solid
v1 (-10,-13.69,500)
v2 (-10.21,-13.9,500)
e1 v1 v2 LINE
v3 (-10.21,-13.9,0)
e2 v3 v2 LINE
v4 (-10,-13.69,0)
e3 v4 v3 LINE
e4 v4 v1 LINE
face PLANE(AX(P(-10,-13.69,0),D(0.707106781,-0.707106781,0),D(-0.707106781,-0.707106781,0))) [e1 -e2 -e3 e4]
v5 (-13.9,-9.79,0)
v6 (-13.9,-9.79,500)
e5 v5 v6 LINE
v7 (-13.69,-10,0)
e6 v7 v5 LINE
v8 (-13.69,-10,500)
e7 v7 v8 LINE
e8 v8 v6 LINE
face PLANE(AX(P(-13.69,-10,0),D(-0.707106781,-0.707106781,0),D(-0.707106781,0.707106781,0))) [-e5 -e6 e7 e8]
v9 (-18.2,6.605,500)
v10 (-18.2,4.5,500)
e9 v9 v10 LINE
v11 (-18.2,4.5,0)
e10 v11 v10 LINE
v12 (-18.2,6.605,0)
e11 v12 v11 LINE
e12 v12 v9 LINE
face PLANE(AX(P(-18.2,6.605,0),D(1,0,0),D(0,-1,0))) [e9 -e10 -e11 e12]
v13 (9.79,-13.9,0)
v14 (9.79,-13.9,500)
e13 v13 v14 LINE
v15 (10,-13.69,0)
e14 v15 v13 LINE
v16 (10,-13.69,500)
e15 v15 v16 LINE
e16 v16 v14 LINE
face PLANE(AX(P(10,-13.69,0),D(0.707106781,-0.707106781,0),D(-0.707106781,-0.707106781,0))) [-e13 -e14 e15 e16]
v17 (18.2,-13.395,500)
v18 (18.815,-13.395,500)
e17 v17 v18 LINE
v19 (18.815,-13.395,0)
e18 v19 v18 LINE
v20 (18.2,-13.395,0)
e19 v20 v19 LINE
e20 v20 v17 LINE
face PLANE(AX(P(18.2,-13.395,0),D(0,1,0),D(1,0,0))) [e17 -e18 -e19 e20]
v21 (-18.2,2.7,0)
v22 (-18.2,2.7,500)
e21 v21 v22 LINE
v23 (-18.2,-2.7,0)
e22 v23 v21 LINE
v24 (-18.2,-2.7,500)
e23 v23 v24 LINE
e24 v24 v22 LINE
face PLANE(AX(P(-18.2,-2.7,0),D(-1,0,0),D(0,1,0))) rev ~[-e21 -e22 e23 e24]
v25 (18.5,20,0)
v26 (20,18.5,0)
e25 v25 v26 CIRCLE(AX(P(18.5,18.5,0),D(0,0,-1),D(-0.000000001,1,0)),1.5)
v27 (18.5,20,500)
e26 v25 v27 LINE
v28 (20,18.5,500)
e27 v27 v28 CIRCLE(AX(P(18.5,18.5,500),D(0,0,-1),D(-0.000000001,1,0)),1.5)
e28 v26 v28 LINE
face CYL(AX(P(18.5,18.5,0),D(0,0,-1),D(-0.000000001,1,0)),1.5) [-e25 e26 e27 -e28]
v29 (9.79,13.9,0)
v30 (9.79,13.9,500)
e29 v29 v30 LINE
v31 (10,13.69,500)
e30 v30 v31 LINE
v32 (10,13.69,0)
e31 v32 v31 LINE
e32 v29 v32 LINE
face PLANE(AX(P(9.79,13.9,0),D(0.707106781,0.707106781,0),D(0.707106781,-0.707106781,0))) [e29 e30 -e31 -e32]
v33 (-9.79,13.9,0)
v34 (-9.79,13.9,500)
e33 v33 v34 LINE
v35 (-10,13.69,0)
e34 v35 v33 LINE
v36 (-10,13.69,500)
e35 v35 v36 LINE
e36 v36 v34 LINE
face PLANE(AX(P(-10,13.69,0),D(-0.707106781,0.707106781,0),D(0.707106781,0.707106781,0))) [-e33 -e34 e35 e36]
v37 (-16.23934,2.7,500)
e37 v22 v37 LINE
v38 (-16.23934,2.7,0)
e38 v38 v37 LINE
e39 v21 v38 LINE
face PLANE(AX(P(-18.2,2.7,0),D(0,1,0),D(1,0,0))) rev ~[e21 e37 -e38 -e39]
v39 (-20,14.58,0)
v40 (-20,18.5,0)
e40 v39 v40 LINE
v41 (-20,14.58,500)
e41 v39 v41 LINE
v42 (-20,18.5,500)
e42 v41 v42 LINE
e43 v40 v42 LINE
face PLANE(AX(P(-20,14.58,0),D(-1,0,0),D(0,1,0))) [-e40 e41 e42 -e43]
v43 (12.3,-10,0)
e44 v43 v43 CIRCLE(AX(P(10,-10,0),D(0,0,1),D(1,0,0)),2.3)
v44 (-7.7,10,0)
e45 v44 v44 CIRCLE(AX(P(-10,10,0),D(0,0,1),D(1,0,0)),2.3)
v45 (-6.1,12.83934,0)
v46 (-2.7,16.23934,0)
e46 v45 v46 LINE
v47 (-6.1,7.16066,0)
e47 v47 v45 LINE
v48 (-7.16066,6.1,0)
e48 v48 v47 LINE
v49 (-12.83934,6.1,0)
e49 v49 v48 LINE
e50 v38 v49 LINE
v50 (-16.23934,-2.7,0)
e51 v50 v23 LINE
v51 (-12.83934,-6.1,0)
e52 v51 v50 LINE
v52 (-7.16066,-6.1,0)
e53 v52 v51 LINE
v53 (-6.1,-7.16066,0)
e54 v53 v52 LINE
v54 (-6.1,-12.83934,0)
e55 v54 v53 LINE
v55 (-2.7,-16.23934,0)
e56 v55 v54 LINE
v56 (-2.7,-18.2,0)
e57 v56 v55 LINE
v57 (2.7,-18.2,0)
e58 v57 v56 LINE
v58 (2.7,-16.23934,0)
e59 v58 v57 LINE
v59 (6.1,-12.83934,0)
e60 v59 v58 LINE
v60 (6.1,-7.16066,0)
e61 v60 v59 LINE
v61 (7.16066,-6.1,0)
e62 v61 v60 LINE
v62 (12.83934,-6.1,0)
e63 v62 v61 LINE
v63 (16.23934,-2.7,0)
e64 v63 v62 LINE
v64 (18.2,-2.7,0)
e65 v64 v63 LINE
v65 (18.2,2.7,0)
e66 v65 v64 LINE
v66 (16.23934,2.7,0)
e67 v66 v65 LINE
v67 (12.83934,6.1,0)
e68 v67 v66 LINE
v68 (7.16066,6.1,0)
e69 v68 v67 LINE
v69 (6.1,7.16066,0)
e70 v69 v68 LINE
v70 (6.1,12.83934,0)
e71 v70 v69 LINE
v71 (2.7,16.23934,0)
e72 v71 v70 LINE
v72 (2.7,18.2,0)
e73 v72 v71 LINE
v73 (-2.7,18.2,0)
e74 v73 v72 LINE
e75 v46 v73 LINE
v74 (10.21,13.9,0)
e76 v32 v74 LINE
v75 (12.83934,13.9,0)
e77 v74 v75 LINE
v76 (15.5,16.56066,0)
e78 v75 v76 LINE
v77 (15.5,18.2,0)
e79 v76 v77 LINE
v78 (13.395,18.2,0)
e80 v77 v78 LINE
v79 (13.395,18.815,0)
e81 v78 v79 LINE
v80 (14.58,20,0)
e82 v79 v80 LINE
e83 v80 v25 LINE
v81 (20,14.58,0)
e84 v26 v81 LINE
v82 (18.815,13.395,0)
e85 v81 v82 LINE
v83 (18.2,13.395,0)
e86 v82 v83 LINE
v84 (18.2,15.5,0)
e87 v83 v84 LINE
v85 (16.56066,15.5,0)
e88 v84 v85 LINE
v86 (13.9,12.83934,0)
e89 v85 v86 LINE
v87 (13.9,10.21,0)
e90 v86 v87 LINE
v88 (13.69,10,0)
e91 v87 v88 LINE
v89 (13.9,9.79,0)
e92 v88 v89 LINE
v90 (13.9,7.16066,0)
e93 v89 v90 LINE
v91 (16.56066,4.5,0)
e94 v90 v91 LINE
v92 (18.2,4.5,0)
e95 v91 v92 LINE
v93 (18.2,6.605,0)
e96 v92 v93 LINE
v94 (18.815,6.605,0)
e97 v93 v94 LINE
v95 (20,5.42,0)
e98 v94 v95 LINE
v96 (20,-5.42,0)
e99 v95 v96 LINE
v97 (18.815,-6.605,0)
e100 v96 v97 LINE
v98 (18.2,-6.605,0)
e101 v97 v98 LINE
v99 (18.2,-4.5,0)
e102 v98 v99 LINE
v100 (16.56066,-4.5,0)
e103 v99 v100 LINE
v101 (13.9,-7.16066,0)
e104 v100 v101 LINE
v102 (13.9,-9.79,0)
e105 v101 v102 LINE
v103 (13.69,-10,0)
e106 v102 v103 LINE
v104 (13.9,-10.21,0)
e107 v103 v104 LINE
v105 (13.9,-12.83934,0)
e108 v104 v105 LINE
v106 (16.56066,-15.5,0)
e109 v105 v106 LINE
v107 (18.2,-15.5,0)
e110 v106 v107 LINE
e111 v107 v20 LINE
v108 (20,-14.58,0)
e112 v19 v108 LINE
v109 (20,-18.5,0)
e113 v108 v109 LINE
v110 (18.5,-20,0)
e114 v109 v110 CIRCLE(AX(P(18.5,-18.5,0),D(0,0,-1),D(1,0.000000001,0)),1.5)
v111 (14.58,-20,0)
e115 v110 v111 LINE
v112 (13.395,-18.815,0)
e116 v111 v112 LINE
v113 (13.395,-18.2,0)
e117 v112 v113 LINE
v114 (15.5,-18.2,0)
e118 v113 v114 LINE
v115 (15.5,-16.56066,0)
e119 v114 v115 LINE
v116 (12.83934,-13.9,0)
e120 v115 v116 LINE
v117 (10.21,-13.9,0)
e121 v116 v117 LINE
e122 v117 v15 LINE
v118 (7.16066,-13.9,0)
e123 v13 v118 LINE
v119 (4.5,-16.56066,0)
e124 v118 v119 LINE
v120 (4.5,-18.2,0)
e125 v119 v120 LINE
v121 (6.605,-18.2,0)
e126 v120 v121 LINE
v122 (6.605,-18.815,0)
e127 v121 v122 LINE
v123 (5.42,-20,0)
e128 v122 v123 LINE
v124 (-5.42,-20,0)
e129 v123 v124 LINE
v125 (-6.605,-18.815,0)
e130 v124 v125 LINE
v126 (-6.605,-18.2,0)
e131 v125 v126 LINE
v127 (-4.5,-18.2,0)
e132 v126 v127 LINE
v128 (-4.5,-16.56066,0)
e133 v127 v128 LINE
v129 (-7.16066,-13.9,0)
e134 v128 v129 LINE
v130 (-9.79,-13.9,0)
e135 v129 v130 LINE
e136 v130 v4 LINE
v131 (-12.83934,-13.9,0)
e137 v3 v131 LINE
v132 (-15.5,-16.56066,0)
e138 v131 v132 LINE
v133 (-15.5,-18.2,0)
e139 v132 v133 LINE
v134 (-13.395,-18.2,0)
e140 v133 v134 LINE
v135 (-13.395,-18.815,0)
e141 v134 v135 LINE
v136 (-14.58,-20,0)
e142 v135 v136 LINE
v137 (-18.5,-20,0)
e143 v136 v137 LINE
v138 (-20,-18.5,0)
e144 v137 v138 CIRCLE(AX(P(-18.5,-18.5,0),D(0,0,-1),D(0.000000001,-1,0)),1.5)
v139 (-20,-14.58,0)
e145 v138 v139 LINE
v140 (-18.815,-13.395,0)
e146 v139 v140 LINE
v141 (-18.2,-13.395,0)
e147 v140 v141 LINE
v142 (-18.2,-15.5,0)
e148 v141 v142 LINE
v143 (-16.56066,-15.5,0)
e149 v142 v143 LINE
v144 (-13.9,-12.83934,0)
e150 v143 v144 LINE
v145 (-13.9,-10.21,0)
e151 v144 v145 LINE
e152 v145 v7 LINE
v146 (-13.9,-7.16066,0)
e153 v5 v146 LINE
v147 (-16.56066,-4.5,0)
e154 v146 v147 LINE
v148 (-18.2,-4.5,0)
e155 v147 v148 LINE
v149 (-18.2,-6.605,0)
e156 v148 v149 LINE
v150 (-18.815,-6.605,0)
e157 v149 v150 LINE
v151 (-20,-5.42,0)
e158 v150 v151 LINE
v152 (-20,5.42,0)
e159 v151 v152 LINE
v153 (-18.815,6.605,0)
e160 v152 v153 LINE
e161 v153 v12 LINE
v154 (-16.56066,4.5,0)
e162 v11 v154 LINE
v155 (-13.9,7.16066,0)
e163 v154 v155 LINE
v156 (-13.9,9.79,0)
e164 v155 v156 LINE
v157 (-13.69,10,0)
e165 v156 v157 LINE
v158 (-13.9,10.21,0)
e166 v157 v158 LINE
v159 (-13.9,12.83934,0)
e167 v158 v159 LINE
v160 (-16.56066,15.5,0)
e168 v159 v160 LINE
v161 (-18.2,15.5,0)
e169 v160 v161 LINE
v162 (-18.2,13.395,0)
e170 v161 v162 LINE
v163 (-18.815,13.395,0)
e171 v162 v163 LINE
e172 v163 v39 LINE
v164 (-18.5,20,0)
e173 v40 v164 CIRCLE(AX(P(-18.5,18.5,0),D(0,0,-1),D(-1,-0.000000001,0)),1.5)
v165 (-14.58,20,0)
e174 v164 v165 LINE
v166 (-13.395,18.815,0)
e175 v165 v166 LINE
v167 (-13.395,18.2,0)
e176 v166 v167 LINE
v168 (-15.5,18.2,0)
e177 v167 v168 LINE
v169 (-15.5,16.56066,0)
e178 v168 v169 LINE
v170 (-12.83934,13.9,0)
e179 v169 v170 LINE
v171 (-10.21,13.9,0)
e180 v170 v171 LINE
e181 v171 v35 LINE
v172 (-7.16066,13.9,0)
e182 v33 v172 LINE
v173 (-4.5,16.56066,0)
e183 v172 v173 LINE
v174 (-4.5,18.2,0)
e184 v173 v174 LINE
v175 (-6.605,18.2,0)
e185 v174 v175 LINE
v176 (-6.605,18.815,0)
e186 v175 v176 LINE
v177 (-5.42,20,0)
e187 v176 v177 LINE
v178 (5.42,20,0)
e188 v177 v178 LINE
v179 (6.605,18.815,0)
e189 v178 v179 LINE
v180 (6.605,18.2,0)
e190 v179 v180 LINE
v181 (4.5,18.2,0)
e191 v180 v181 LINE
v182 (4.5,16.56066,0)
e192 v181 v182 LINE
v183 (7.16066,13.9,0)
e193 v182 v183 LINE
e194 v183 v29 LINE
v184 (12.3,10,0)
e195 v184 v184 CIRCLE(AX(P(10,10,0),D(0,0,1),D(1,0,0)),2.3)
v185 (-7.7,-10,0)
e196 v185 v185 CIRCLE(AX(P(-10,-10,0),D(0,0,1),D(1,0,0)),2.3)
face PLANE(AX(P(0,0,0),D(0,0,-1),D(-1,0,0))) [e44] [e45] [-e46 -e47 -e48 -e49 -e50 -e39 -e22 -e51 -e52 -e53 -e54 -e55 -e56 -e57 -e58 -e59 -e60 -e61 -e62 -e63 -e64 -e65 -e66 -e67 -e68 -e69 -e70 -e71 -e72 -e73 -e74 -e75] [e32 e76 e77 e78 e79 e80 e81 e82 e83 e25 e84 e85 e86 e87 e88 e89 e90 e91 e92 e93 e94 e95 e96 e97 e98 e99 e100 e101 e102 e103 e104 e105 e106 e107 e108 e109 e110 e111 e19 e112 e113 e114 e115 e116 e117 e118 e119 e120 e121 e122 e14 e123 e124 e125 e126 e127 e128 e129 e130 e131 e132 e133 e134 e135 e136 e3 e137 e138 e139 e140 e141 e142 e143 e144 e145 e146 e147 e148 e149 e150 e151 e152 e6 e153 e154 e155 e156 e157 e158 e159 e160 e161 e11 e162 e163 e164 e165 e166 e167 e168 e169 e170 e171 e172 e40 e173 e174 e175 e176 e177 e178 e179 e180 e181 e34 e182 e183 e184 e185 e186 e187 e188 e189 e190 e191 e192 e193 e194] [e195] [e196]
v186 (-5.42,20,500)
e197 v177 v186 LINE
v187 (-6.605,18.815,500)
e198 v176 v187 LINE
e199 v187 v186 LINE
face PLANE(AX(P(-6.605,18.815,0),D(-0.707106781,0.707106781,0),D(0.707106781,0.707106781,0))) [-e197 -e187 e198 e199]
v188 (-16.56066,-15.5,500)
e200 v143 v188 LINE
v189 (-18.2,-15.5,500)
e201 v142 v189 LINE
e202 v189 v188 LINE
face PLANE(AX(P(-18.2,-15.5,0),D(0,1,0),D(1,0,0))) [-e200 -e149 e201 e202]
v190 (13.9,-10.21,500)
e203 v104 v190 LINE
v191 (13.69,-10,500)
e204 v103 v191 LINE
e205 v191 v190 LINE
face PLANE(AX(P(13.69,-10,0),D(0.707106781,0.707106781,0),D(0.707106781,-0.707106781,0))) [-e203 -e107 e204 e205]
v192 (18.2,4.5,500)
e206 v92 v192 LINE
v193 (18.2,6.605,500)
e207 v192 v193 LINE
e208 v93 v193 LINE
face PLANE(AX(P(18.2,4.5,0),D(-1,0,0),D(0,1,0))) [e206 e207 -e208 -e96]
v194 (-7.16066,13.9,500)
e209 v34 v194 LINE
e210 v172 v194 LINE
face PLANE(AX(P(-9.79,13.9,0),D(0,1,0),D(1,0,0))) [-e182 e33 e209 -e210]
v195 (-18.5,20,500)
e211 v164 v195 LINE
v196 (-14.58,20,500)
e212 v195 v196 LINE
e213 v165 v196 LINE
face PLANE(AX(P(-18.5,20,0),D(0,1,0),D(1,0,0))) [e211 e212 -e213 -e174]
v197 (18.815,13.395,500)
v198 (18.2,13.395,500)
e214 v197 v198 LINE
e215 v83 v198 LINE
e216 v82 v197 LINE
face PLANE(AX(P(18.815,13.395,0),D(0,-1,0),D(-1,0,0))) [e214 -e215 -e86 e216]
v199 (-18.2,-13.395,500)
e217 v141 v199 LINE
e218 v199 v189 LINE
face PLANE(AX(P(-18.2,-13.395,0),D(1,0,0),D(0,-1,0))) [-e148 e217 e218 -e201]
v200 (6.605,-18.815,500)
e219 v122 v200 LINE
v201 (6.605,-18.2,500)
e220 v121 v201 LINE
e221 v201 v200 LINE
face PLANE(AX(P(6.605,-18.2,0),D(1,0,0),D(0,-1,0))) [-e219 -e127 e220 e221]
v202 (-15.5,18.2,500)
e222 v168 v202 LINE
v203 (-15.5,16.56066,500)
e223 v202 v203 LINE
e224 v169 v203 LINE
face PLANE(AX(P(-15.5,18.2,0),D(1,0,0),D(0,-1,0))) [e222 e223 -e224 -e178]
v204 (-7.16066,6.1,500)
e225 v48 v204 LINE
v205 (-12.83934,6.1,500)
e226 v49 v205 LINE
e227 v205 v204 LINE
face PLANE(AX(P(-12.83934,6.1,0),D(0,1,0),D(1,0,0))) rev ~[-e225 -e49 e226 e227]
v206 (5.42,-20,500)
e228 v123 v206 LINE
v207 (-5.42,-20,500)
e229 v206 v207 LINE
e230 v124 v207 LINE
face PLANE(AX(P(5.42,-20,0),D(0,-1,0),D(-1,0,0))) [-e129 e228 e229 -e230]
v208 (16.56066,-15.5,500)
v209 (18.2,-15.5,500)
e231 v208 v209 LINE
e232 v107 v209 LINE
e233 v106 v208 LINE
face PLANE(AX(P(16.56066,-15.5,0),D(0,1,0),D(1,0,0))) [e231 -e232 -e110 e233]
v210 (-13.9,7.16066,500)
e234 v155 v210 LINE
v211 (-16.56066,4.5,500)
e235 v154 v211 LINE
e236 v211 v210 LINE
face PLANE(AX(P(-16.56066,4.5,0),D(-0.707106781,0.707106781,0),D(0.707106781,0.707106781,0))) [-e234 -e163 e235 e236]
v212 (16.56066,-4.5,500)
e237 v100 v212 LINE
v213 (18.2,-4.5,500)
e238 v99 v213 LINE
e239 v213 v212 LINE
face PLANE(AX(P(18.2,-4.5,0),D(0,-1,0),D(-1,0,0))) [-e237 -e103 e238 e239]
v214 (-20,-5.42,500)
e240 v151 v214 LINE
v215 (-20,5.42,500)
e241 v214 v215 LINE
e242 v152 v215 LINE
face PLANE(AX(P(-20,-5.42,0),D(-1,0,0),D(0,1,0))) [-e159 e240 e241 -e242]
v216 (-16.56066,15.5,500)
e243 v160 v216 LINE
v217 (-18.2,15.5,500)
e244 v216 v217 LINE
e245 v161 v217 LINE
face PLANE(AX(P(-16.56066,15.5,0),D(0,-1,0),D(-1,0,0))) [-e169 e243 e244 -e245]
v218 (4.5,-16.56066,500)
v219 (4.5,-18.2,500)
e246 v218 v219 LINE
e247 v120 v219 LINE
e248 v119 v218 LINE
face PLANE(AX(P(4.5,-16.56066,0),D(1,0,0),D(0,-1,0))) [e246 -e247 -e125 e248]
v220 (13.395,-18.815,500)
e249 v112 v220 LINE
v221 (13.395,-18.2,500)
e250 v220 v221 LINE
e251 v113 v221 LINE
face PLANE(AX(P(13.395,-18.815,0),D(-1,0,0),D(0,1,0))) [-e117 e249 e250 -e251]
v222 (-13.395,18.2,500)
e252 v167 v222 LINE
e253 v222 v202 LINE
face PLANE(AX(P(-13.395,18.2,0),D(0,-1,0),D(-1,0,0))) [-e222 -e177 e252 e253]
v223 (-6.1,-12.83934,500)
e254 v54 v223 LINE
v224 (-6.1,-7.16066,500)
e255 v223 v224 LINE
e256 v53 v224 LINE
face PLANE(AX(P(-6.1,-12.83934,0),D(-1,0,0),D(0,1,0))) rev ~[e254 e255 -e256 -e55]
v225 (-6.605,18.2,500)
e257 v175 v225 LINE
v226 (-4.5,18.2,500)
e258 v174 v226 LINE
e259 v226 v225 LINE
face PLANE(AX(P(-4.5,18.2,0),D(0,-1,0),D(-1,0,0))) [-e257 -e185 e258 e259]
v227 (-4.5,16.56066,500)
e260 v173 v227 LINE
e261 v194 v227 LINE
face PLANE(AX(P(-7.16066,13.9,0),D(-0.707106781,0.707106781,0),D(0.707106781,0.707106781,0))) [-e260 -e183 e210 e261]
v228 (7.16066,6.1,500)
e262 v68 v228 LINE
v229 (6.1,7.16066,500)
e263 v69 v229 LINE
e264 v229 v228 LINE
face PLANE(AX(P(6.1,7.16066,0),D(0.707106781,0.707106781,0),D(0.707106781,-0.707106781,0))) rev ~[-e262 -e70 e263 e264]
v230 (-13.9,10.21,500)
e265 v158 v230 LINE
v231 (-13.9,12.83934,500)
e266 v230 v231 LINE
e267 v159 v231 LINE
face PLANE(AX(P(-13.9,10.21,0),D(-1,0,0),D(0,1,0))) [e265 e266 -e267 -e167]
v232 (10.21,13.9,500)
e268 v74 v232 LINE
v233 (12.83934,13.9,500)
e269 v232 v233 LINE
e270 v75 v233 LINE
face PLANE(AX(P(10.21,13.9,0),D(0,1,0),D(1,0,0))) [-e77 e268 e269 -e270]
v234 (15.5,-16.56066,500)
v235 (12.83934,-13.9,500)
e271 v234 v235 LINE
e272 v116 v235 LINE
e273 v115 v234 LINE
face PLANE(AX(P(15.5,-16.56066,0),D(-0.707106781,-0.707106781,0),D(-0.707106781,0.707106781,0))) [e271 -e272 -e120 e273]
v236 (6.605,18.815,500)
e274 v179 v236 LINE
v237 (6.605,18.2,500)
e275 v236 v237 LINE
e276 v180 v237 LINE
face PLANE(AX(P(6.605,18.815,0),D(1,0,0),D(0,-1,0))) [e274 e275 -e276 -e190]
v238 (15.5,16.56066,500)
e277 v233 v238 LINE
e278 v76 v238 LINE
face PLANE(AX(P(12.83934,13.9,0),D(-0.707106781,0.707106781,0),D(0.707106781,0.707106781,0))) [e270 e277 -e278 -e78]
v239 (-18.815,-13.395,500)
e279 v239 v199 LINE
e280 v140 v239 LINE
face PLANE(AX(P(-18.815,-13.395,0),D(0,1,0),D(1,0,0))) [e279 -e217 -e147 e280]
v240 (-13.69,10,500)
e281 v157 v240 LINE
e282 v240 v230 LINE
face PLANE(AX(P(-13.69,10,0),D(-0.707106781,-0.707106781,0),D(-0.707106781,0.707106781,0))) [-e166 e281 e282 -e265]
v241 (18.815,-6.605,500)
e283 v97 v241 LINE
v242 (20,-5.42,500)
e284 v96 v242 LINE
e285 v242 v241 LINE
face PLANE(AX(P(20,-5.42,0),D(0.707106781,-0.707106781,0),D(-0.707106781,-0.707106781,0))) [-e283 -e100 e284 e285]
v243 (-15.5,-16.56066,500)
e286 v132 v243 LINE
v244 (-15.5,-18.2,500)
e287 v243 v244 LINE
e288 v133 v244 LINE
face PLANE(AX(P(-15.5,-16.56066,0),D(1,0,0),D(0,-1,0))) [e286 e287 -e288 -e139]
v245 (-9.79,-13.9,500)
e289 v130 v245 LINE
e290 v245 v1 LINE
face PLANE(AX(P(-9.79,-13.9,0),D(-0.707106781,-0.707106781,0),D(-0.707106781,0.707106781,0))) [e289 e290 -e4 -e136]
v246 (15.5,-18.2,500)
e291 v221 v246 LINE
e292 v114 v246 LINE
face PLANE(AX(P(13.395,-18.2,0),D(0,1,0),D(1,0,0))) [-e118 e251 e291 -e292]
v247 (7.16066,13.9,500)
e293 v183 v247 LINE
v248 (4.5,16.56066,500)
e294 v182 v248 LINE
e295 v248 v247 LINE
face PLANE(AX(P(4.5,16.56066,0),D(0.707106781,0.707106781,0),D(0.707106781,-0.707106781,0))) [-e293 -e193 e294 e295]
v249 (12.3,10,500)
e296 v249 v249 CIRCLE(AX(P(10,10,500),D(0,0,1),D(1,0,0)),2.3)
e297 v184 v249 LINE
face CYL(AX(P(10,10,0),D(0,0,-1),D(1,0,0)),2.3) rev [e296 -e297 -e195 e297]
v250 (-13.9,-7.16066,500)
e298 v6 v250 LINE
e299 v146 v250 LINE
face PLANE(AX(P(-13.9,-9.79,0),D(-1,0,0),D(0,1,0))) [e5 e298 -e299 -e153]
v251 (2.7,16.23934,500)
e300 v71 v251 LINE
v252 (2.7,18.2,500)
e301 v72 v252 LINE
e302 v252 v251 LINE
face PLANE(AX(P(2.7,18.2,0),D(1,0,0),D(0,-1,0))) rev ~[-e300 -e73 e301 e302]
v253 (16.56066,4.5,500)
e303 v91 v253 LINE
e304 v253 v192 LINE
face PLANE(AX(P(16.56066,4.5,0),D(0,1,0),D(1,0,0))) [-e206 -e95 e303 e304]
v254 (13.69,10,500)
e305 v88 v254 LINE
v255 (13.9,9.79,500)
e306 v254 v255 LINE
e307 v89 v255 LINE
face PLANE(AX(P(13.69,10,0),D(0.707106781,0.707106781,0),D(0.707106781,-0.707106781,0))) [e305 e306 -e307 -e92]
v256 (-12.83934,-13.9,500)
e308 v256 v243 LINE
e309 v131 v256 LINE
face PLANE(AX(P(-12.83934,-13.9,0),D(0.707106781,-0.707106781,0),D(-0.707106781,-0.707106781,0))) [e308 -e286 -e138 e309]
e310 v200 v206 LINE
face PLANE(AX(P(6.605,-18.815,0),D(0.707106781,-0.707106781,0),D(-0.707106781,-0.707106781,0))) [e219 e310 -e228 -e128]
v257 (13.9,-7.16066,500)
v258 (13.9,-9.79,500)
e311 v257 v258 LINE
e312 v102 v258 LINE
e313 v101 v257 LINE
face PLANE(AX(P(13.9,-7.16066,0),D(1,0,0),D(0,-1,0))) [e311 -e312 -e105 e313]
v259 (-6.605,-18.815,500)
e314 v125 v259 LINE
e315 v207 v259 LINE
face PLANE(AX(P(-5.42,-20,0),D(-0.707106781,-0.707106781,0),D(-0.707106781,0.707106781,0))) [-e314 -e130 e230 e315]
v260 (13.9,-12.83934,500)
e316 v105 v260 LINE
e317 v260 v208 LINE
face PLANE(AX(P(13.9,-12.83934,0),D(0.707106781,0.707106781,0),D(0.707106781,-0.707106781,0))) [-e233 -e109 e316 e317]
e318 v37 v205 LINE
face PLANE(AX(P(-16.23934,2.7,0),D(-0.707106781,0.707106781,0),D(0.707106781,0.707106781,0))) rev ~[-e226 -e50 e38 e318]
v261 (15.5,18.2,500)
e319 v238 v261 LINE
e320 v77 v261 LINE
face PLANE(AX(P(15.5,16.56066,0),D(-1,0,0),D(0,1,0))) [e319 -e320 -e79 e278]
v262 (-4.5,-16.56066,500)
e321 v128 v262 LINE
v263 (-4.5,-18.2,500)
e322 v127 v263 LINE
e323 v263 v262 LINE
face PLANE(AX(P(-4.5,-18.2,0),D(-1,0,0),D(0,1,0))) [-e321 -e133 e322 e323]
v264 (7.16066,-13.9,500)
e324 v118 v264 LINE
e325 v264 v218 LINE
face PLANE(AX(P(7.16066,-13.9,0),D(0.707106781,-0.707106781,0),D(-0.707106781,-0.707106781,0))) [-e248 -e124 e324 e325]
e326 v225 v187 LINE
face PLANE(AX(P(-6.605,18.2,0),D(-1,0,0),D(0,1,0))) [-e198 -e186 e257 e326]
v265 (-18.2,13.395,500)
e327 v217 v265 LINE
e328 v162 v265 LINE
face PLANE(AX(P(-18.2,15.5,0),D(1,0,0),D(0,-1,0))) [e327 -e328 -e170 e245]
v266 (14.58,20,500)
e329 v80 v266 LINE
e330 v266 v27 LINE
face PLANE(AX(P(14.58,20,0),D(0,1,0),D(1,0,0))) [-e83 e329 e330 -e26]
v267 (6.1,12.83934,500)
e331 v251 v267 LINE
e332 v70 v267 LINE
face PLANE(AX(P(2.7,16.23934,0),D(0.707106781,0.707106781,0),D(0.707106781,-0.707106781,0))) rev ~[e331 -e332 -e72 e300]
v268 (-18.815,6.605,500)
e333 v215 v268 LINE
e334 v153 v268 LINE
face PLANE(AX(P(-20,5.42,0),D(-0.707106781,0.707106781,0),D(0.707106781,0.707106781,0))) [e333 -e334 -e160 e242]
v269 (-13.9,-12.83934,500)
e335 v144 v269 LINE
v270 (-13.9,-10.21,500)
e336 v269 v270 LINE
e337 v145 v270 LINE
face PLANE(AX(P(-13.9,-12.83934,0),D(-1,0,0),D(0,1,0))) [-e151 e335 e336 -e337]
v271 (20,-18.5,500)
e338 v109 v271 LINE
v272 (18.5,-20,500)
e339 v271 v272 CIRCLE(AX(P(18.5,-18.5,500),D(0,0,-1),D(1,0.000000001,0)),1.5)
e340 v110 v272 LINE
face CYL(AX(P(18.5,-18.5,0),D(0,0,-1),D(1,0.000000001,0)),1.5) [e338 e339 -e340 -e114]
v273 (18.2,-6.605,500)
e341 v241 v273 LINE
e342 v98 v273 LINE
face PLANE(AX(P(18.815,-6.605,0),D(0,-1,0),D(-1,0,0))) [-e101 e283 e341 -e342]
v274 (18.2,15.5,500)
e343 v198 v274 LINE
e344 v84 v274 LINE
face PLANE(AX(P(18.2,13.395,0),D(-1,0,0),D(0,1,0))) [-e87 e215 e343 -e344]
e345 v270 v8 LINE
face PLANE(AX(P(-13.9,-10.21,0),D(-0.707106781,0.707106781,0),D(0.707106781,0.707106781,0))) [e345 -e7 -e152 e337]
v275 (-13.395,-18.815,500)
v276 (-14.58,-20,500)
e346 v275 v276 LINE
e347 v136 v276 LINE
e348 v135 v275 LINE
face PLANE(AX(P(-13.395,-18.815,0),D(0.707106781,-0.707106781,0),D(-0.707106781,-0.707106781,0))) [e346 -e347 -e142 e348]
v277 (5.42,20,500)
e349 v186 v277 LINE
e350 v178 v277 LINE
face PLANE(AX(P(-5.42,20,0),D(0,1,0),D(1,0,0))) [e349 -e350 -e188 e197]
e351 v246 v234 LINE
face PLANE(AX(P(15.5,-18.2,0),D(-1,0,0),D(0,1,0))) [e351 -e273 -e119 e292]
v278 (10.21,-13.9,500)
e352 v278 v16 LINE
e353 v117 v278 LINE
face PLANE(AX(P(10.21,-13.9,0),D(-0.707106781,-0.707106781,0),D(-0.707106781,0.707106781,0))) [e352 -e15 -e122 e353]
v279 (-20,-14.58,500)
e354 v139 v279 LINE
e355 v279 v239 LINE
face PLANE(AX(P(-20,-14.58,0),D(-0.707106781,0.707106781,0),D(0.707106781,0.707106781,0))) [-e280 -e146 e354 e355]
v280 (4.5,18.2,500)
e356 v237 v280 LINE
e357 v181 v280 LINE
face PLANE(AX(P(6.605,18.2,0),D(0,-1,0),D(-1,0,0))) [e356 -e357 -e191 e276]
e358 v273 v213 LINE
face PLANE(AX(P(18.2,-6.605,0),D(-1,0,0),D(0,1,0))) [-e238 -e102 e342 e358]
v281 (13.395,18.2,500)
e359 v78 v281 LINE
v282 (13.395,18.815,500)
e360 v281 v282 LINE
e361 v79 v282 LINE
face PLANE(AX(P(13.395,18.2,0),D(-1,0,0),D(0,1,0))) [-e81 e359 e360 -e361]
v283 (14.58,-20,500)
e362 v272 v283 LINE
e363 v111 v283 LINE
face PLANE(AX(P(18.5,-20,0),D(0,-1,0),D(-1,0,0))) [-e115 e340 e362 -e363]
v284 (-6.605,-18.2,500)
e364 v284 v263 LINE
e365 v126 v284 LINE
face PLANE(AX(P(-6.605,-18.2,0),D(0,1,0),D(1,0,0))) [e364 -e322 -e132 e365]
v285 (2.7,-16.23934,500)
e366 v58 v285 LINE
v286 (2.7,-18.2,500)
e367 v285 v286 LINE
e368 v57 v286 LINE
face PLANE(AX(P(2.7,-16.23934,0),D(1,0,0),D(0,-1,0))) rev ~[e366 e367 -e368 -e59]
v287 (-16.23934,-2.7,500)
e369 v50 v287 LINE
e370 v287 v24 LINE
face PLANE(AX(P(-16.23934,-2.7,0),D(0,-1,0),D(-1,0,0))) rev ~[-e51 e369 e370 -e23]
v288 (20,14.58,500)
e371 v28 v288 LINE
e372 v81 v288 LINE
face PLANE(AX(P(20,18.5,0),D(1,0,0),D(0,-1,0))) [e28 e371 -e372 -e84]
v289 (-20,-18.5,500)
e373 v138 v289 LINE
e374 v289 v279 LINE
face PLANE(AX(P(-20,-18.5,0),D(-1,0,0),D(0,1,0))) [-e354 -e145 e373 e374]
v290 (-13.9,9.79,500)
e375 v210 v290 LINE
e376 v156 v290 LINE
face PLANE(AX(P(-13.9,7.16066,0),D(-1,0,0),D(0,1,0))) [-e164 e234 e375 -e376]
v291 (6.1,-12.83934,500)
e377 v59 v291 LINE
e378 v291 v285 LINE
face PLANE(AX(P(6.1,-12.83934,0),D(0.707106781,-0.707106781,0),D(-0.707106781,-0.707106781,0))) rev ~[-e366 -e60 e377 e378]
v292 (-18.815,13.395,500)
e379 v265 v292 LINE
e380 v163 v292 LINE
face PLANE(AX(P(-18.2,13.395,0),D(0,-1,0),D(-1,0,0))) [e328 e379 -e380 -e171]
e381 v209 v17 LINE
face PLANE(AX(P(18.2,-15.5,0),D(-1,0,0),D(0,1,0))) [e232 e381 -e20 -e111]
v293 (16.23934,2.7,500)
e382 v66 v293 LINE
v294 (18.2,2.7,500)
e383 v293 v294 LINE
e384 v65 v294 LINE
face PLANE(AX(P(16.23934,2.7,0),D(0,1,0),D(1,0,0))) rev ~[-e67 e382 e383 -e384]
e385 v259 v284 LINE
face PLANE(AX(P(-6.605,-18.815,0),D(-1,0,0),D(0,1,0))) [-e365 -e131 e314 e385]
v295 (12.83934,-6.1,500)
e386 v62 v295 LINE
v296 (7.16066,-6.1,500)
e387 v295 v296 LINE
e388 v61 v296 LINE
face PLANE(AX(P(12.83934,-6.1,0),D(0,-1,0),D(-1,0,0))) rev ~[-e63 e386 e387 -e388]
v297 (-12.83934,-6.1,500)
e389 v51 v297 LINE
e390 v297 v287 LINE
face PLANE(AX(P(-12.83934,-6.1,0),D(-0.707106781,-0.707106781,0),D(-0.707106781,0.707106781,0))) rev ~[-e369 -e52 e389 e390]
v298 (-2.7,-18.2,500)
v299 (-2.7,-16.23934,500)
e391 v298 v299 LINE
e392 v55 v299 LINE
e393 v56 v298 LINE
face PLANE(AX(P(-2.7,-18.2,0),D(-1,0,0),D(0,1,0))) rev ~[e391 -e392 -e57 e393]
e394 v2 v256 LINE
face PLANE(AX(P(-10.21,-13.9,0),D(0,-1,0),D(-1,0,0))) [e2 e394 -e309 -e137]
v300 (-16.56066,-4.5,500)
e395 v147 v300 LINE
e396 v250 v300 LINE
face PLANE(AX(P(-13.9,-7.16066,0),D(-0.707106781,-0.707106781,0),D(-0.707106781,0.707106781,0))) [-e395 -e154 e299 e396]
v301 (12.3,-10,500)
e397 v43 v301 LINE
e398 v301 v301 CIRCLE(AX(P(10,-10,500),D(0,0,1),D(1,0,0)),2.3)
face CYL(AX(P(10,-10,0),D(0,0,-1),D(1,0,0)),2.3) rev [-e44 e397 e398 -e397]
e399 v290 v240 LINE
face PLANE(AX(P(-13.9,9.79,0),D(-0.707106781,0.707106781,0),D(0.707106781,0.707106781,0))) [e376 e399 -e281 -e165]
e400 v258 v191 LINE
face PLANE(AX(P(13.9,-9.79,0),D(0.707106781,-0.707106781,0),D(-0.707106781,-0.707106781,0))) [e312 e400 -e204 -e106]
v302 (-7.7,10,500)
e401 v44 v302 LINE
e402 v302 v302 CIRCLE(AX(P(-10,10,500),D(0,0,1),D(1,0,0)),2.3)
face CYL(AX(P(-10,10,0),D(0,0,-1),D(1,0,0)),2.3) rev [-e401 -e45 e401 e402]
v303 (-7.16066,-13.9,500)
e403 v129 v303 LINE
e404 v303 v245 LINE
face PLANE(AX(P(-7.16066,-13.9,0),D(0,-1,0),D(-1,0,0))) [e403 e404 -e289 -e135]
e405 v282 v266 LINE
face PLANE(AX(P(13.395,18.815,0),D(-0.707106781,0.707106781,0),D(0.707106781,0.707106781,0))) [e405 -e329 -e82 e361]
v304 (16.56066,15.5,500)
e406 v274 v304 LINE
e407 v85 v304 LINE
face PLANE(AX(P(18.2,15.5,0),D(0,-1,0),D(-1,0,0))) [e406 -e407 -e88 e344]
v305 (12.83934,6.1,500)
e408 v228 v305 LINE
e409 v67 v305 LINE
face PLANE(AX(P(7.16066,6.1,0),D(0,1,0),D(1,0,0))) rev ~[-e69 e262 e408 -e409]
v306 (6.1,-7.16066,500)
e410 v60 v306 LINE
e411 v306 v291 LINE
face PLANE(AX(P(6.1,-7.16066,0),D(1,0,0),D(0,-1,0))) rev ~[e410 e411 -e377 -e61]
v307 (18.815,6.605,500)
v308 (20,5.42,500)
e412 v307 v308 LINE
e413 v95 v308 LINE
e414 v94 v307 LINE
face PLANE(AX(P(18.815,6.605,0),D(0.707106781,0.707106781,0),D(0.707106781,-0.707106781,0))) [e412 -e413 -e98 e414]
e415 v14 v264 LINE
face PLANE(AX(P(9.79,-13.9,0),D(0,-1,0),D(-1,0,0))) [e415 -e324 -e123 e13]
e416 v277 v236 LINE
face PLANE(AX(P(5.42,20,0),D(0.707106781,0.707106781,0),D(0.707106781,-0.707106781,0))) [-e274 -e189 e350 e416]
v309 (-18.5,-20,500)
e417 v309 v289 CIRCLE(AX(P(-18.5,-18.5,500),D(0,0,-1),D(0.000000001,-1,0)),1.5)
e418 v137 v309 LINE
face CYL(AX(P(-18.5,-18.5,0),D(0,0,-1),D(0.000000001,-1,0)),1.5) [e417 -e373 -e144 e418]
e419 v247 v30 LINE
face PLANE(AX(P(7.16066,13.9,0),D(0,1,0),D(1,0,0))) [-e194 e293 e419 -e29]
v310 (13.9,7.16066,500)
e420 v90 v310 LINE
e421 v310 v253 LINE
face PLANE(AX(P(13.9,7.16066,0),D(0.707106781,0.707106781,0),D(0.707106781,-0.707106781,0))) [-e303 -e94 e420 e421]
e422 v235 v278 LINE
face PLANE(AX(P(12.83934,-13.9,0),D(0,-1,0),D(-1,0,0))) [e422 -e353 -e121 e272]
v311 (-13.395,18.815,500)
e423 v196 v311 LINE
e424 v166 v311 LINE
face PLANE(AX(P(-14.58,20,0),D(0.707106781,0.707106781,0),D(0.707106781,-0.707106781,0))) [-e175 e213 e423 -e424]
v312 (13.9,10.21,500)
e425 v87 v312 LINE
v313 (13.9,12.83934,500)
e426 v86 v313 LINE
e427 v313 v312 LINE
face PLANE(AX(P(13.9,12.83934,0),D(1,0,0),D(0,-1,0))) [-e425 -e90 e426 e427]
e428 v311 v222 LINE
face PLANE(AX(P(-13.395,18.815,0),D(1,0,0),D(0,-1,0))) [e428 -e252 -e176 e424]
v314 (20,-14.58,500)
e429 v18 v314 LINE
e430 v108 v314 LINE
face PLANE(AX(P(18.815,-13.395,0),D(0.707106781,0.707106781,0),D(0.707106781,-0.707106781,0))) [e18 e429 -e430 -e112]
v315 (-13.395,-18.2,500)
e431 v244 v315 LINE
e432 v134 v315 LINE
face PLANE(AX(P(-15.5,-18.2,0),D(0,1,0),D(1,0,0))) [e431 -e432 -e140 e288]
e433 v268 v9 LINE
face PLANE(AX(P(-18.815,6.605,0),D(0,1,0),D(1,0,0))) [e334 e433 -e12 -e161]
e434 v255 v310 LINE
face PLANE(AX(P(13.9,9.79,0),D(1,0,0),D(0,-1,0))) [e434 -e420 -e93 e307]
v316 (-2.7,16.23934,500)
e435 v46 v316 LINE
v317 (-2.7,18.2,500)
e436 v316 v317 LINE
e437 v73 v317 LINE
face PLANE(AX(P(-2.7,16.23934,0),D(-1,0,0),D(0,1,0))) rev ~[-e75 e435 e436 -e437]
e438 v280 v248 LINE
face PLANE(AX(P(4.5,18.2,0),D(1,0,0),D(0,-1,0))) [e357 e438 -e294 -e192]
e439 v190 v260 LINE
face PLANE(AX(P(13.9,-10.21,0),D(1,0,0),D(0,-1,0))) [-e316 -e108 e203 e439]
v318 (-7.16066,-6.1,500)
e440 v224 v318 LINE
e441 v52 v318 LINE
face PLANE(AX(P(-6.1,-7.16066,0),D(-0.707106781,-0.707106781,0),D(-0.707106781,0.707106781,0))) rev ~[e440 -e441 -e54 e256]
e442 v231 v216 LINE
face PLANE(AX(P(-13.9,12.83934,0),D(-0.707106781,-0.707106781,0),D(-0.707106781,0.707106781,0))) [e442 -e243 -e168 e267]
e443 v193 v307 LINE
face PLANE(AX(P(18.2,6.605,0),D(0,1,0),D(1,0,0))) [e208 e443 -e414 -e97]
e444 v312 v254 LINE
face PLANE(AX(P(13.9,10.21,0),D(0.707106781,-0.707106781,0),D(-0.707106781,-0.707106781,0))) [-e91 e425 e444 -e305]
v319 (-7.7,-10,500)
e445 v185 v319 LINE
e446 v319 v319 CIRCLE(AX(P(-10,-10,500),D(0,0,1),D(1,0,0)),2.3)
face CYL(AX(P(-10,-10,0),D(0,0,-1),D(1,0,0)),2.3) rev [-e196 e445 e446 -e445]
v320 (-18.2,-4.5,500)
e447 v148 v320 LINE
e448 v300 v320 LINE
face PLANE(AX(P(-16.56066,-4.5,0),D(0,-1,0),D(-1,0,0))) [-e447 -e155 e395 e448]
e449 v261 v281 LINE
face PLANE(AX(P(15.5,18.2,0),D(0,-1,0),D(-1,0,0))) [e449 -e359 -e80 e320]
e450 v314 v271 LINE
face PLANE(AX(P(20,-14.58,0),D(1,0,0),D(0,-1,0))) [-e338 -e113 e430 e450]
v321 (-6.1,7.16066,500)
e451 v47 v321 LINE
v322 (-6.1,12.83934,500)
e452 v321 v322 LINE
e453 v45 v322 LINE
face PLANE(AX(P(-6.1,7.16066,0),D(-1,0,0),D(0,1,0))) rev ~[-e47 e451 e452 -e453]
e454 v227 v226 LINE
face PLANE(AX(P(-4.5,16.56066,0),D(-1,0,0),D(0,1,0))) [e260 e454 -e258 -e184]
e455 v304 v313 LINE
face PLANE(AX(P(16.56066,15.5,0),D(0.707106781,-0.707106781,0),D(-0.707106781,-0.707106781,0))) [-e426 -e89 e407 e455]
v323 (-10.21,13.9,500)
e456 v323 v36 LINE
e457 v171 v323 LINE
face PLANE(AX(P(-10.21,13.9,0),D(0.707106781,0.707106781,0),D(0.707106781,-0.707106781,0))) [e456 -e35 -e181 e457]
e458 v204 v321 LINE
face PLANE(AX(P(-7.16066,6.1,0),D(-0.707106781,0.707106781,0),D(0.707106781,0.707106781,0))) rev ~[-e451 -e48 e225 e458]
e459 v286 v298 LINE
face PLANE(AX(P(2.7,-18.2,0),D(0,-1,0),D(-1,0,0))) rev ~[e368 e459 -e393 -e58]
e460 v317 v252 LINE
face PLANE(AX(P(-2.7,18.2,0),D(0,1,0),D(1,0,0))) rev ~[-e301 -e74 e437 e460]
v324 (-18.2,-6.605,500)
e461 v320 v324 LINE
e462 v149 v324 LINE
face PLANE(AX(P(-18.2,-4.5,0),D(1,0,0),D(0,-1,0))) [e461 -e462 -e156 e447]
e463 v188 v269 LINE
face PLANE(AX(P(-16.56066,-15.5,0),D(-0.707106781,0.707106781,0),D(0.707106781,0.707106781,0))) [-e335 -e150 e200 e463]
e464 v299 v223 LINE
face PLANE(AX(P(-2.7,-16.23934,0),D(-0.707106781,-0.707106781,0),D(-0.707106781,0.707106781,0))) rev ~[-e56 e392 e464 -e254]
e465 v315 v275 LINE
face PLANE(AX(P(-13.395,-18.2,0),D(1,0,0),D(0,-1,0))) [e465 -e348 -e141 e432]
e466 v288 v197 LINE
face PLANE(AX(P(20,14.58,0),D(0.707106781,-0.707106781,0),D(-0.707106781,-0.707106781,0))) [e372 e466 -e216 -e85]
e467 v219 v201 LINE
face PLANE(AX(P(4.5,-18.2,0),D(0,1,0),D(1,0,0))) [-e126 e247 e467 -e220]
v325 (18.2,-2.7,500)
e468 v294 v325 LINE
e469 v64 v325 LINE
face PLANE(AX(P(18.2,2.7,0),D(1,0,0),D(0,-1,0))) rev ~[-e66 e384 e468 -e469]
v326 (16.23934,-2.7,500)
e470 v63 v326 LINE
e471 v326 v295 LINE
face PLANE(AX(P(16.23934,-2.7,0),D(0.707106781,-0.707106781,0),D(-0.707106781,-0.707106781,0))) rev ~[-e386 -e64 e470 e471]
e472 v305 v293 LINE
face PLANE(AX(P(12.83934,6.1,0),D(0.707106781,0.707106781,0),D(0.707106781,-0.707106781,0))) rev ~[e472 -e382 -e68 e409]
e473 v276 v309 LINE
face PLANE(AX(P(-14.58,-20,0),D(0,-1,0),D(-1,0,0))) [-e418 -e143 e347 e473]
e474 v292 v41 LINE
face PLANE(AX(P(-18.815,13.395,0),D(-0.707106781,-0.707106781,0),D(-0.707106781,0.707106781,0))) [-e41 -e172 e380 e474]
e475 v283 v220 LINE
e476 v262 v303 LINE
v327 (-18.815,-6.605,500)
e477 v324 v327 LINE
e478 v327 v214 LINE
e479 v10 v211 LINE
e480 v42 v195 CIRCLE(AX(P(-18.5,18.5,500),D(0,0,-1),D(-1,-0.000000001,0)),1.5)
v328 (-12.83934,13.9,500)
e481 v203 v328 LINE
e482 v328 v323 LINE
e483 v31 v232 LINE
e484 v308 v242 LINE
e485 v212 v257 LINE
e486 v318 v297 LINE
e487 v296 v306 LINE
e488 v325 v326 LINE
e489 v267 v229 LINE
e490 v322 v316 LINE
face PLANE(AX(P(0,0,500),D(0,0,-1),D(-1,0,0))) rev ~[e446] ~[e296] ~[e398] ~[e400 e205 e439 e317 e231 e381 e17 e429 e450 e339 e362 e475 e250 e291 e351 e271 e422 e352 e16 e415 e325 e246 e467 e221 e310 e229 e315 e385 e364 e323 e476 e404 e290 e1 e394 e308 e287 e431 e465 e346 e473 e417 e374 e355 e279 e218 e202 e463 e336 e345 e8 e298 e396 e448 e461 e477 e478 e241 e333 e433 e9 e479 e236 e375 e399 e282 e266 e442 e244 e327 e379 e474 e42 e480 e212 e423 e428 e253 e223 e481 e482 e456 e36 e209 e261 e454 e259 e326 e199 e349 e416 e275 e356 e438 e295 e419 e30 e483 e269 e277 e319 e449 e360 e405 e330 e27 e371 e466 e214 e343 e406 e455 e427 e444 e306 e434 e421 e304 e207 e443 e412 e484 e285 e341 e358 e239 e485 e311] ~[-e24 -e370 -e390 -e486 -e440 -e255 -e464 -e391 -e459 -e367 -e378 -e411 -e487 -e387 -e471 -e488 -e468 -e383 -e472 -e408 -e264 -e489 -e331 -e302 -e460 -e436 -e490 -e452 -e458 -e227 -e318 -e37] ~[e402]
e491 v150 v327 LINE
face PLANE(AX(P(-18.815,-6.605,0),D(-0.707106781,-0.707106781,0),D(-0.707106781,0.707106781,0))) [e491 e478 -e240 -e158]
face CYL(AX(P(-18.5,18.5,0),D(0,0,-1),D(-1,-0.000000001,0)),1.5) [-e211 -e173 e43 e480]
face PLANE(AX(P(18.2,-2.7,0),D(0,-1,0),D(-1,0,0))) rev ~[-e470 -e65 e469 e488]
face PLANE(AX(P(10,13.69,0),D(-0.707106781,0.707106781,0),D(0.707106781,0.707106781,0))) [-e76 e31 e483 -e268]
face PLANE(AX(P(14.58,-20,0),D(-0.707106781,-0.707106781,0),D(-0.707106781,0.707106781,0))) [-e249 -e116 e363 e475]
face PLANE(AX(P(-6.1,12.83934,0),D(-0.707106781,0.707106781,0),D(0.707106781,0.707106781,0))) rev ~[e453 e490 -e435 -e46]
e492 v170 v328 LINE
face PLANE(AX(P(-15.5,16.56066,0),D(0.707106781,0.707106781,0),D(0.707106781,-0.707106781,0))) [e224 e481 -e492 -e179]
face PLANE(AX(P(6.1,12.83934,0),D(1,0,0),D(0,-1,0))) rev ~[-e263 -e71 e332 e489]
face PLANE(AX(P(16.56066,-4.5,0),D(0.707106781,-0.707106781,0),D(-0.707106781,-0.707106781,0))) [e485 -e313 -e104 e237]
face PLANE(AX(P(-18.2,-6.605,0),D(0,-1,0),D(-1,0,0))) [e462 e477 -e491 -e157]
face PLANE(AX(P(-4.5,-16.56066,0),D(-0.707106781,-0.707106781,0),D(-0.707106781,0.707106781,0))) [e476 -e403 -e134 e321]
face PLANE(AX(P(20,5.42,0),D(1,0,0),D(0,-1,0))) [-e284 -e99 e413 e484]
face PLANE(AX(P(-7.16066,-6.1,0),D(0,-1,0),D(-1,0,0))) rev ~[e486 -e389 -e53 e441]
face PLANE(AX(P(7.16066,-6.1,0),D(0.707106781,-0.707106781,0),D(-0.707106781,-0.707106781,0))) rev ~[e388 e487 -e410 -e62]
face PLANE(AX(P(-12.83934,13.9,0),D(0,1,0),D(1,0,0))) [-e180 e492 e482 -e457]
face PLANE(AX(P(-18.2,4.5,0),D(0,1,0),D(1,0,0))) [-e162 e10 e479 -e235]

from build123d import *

# Parameters (mm, degrees)
SKETCH1_R           = 2.3
BOSS_EXTRUDE1_DEPTH = 500


with BuildPart() as part:
    # Sketch1 → Boss-Extrude1 (new body)
    with BuildSketch(Plane.XY):
        with BuildLine():
            Line((13.69, -10), (13.9, -10.21))
            Line((13.9, -10.21), (13.9, -12.839339828))
            Line((13.9, -12.839339828), (16.560660172, -15.5))
            Line((16.560660172, -15.5), (18.2, -15.5))
            Line((18.2, -15.5), (18.2, -13.395))
            Line((18.2, -13.395), (18.815, -13.395))
            Line((18.815, -13.395), (20, -14.58))
            Line((20, -14.58), (20, -18.5))
            ThreePointArc((20, -18.5), (19.560660172, -19.560660172), (18.5, -20))
            Line((18.5, -20), (14.58, -20))
            Line((14.58, -20), (13.395, -18.815))
            Line((13.395, -18.815), (13.395, -18.2))
            Line((13.395, -18.2), (15.5, -18.2))
            Line((15.5, -18.2), (15.5, -16.560660172))
            Line((15.5, -16.560660172), (12.839339828, -13.9))
            Line((12.839339828, -13.9), (10.21, -13.9))
            Line((10.21, -13.9), (10, -13.69))
            Line((10, -13.69), (9.79, -13.9))
            Line((9.79, -13.9), (7.160660172, -13.9))
            Line((7.160660172, -13.9), (4.5, -16.560660172))
            Line((4.5, -16.560660172), (4.5, -18.2))
            Line((4.5, -18.2), (6.605, -18.2))
            Line((6.605, -18.2), (6.605, -18.815))
            Line((6.605, -18.815), (5.42, -20))
            Line((5.42, -20), (-5.42, -20))
            Line((-5.42, -20), (-6.605, -18.815))
            Line((-6.605, -18.815), (-6.605, -18.2))
            Line((-6.605, -18.2), (-4.5, -18.2))
            Line((-4.5, -18.2), (-4.5, -16.560660172))
            Line((-4.5, -16.560660172), (-7.160660172, -13.9))
            Line((-7.160660172, -13.9), (-9.79, -13.9))
            Line((-9.79, -13.9), (-10, -13.69))
            Line((-10, -13.69), (-10.21, -13.9))
            Line((-10.21, -13.9), (-12.839339828, -13.9))
            Line((-12.839339828, -13.9), (-15.5, -16.560660172))
            Line((-15.5, -16.560660172), (-15.5, -18.2))
            Line((-15.5, -18.2), (-13.395, -18.2))
            Line((-13.395, -18.2), (-13.395, -18.815))
            Line((-13.395, -18.815), (-14.58, -20))
            Line((-14.58, -20), (-18.5, -20))
            ThreePointArc((-18.5, -20), (-19.560660172, -19.560660172), (-20, -18.5))
            Line((-20, -18.5), (-20, -14.58))
            Line((-20, -14.58), (-18.815, -13.395))
            Line((-18.815, -13.395), (-18.2, -13.395))
            Line((-18.2, -13.395), (-18.2, -15.5))
            Line((-18.2, -15.5), (-16.560660172, -15.5))
            Line((-16.560660172, -15.5), (-13.9, -12.839339828))
            Line((-13.9, -12.839339828), (-13.9, -10.21))
            Line((-13.9, -10.21), (-13.69, -10))
            Line((-13.69, -10), (-13.9, -9.79))
            Line((-13.9, -9.79), (-13.9, -7.160660172))
            Line((-13.9, -7.160660172), (-16.560660172, -4.5))
            Line((-16.560660172, -4.5), (-18.2, -4.5))
            Line((-18.2, -4.5), (-18.2, -6.605))
            Line((-18.2, -6.605), (-18.815, -6.605))
            Line((-18.815, -6.605), (-20, -5.42))
            Line((-20, -5.42), (-20, 5.42))
            Line((-20, 5.42), (-18.815, 6.605))
            Line((-18.815, 6.605), (-18.2, 6.605))
            Line((-18.2, 6.605), (-18.2, 4.5))
            Line((-18.2, 4.5), (-16.560660172, 4.5))
            Line((-16.560660172, 4.5), (-13.9, 7.160660172))
            Line((-13.9, 7.160660172), (-13.9, 9.79))
            Line((-13.9, 9.79), (-13.69, 10))
            Line((-13.69, 10), (-13.9, 10.21))
            Line((-13.9, 10.21), (-13.9, 12.839339828))
            Line((-13.9, 12.839339828), (-16.560660172, 15.5))
            Line((-16.560660172, 15.5), (-18.2, 15.5))
            Line((-18.2, 15.5), (-18.2, 13.395))
            Line((-18.2, 13.395), (-18.815, 13.395))
            Line((-18.815, 13.395), (-20, 14.58))
            Line((-20, 14.58), (-20, 18.5))
            ThreePointArc((-20, 18.5), (-19.560660172, 19.560660172), (-18.5, 20))
            Line((-18.5, 20), (-14.58, 20))
            Line((-14.58, 20), (-13.395, 18.815))
            Line((-13.395, 18.815), (-13.395, 18.2))
            Line((-13.395, 18.2), (-15.5, 18.2))
            Line((-15.5, 18.2), (-15.5, 16.560660172))
            Line((-15.5, 16.560660172), (-12.839339828, 13.9))
            Line((-12.839339828, 13.9), (-10.21, 13.9))
            Line((-10.21, 13.9), (-10, 13.69))
            Line((-10, 13.69), (-9.79, 13.9))
            Line((-9.79, 13.9), (-7.160660172, 13.9))
            Line((-7.160660172, 13.9), (-4.5, 16.560660172))
            Line((-4.5, 16.560660172), (-4.5, 18.2))
            Line((-4.5, 18.2), (-6.605, 18.2))
            Line((-6.605, 18.2), (-6.605, 18.815))
            Line((-6.605, 18.815), (-5.42, 20))
            Line((-5.42, 20), (5.42, 20))
            Line((5.42, 20), (6.605, 18.815))
            Line((6.605, 18.815), (6.605, 18.2))
            Line((6.605, 18.2), (4.5, 18.2))
            Line((4.5, 18.2), (4.5, 16.560660172))
            Line((4.5, 16.560660172), (7.160660172, 13.9))
            Line((7.160660172, 13.9), (9.79, 13.9))
            Line((9.79, 13.9), (10, 13.69))
            Line((10, 13.69), (10.21, 13.9))
            Line((10.21, 13.9), (12.839339828, 13.9))
            Line((12.839339828, 13.9), (15.5, 16.560660172))
            Line((15.5, 16.560660172), (15.5, 18.2))
            Line((15.5, 18.2), (13.395, 18.2))
            Line((13.395, 18.2), (13.395, 18.815))
            Line((13.395, 18.815), (14.58, 20))
            Line((14.58, 20), (18.5, 20))
            ThreePointArc((18.5, 20), (19.560660172, 19.560660172), (20, 18.5))
            Line((20, 18.5), (20, 14.58))
            Line((20, 14.58), (18.815, 13.395))
            Line((18.815, 13.395), (18.2, 13.395))
            Line((18.2, 13.395), (18.2, 15.5))
            Line((18.2, 15.5), (16.560660172, 15.5))
            Line((16.560660172, 15.5), (13.9, 12.839339828))
            Line((13.9, 12.839339828), (13.9, 10.21))
            Line((13.9, 10.21), (13.69, 10))
            Line((13.69, 10), (13.9, 9.79))
            Line((13.9, 9.79), (13.9, 7.160660172))
            Line((13.9, 7.160660172), (16.560660172, 4.5))
            Line((16.560660172, 4.5), (18.2, 4.5))
            Line((18.2, 4.5), (18.2, 6.605))
            Line((18.2, 6.605), (18.815, 6.605))
            Line((18.815, 6.605), (20, 5.42))
            Line((20, 5.42), (20, -5.42))
            Line((20, -5.42), (18.815, -6.605))
            Line((18.815, -6.605), (18.2, -6.605))
            Line((18.2, -6.605), (18.2, -4.5))
            Line((18.2, -4.5), (16.560660172, -4.5))
            Line((16.560660172, -4.5), (13.9, -7.160660172))
            Line((13.9, -7.160660172), (13.9, -9.79))
            Line((13.9, -9.79), (13.69, -10))
        make_face()
        with Locations((-10, -10)):
            Circle(SKETCH1_R, mode=Mode.SUBTRACT)
        with Locations((10, 10)):
            Circle(SKETCH1_R, mode=Mode.SUBTRACT)
        with Locations((-10, 10)):
            Circle(SKETCH1_R, mode=Mode.SUBTRACT)
        with Locations((10, -10)):
            Circle(SKETCH1_R, mode=Mode.SUBTRACT)
        Polygon((-6.1, -12.839339828), (-6.1, -7.160660172), (-7.160660172, -6.1), (-12.839339828, -6.1), (-16.239339828, -2.7), (-18.2, -2.7), (-18.2, 2.7), (-16.239339828, 2.7), (-12.839339828, 6.1), (-7.160660172, 6.1), (-6.1, 7.160660172), (-6.1, 12.839339828), (-2.7, 16.239339828), (-2.7, 18.2), (2.7, 18.2), (2.7, 16.239339828), (6.1, 12.839339828), (6.1, 7.160660172), (7.160660172, 6.1), (12.839339828, 6.1), (16.239339828, 2.7), (18.2, 2.7), (18.2, -2.7), (16.239339828, -2.7), (12.839339828, -6.1), (7.160660172, -6.1), (6.1, -7.160660172), (6.1, -12.839339828), (2.7, -16.239339828), (2.7, -18.2), (-2.7, -18.2), (-2.7, -16.239339828), align=None, mode=Mode.SUBTRACT)
    extrude(amount=BOSS_EXTRUDE1_DEPTH)


solid = part.part
